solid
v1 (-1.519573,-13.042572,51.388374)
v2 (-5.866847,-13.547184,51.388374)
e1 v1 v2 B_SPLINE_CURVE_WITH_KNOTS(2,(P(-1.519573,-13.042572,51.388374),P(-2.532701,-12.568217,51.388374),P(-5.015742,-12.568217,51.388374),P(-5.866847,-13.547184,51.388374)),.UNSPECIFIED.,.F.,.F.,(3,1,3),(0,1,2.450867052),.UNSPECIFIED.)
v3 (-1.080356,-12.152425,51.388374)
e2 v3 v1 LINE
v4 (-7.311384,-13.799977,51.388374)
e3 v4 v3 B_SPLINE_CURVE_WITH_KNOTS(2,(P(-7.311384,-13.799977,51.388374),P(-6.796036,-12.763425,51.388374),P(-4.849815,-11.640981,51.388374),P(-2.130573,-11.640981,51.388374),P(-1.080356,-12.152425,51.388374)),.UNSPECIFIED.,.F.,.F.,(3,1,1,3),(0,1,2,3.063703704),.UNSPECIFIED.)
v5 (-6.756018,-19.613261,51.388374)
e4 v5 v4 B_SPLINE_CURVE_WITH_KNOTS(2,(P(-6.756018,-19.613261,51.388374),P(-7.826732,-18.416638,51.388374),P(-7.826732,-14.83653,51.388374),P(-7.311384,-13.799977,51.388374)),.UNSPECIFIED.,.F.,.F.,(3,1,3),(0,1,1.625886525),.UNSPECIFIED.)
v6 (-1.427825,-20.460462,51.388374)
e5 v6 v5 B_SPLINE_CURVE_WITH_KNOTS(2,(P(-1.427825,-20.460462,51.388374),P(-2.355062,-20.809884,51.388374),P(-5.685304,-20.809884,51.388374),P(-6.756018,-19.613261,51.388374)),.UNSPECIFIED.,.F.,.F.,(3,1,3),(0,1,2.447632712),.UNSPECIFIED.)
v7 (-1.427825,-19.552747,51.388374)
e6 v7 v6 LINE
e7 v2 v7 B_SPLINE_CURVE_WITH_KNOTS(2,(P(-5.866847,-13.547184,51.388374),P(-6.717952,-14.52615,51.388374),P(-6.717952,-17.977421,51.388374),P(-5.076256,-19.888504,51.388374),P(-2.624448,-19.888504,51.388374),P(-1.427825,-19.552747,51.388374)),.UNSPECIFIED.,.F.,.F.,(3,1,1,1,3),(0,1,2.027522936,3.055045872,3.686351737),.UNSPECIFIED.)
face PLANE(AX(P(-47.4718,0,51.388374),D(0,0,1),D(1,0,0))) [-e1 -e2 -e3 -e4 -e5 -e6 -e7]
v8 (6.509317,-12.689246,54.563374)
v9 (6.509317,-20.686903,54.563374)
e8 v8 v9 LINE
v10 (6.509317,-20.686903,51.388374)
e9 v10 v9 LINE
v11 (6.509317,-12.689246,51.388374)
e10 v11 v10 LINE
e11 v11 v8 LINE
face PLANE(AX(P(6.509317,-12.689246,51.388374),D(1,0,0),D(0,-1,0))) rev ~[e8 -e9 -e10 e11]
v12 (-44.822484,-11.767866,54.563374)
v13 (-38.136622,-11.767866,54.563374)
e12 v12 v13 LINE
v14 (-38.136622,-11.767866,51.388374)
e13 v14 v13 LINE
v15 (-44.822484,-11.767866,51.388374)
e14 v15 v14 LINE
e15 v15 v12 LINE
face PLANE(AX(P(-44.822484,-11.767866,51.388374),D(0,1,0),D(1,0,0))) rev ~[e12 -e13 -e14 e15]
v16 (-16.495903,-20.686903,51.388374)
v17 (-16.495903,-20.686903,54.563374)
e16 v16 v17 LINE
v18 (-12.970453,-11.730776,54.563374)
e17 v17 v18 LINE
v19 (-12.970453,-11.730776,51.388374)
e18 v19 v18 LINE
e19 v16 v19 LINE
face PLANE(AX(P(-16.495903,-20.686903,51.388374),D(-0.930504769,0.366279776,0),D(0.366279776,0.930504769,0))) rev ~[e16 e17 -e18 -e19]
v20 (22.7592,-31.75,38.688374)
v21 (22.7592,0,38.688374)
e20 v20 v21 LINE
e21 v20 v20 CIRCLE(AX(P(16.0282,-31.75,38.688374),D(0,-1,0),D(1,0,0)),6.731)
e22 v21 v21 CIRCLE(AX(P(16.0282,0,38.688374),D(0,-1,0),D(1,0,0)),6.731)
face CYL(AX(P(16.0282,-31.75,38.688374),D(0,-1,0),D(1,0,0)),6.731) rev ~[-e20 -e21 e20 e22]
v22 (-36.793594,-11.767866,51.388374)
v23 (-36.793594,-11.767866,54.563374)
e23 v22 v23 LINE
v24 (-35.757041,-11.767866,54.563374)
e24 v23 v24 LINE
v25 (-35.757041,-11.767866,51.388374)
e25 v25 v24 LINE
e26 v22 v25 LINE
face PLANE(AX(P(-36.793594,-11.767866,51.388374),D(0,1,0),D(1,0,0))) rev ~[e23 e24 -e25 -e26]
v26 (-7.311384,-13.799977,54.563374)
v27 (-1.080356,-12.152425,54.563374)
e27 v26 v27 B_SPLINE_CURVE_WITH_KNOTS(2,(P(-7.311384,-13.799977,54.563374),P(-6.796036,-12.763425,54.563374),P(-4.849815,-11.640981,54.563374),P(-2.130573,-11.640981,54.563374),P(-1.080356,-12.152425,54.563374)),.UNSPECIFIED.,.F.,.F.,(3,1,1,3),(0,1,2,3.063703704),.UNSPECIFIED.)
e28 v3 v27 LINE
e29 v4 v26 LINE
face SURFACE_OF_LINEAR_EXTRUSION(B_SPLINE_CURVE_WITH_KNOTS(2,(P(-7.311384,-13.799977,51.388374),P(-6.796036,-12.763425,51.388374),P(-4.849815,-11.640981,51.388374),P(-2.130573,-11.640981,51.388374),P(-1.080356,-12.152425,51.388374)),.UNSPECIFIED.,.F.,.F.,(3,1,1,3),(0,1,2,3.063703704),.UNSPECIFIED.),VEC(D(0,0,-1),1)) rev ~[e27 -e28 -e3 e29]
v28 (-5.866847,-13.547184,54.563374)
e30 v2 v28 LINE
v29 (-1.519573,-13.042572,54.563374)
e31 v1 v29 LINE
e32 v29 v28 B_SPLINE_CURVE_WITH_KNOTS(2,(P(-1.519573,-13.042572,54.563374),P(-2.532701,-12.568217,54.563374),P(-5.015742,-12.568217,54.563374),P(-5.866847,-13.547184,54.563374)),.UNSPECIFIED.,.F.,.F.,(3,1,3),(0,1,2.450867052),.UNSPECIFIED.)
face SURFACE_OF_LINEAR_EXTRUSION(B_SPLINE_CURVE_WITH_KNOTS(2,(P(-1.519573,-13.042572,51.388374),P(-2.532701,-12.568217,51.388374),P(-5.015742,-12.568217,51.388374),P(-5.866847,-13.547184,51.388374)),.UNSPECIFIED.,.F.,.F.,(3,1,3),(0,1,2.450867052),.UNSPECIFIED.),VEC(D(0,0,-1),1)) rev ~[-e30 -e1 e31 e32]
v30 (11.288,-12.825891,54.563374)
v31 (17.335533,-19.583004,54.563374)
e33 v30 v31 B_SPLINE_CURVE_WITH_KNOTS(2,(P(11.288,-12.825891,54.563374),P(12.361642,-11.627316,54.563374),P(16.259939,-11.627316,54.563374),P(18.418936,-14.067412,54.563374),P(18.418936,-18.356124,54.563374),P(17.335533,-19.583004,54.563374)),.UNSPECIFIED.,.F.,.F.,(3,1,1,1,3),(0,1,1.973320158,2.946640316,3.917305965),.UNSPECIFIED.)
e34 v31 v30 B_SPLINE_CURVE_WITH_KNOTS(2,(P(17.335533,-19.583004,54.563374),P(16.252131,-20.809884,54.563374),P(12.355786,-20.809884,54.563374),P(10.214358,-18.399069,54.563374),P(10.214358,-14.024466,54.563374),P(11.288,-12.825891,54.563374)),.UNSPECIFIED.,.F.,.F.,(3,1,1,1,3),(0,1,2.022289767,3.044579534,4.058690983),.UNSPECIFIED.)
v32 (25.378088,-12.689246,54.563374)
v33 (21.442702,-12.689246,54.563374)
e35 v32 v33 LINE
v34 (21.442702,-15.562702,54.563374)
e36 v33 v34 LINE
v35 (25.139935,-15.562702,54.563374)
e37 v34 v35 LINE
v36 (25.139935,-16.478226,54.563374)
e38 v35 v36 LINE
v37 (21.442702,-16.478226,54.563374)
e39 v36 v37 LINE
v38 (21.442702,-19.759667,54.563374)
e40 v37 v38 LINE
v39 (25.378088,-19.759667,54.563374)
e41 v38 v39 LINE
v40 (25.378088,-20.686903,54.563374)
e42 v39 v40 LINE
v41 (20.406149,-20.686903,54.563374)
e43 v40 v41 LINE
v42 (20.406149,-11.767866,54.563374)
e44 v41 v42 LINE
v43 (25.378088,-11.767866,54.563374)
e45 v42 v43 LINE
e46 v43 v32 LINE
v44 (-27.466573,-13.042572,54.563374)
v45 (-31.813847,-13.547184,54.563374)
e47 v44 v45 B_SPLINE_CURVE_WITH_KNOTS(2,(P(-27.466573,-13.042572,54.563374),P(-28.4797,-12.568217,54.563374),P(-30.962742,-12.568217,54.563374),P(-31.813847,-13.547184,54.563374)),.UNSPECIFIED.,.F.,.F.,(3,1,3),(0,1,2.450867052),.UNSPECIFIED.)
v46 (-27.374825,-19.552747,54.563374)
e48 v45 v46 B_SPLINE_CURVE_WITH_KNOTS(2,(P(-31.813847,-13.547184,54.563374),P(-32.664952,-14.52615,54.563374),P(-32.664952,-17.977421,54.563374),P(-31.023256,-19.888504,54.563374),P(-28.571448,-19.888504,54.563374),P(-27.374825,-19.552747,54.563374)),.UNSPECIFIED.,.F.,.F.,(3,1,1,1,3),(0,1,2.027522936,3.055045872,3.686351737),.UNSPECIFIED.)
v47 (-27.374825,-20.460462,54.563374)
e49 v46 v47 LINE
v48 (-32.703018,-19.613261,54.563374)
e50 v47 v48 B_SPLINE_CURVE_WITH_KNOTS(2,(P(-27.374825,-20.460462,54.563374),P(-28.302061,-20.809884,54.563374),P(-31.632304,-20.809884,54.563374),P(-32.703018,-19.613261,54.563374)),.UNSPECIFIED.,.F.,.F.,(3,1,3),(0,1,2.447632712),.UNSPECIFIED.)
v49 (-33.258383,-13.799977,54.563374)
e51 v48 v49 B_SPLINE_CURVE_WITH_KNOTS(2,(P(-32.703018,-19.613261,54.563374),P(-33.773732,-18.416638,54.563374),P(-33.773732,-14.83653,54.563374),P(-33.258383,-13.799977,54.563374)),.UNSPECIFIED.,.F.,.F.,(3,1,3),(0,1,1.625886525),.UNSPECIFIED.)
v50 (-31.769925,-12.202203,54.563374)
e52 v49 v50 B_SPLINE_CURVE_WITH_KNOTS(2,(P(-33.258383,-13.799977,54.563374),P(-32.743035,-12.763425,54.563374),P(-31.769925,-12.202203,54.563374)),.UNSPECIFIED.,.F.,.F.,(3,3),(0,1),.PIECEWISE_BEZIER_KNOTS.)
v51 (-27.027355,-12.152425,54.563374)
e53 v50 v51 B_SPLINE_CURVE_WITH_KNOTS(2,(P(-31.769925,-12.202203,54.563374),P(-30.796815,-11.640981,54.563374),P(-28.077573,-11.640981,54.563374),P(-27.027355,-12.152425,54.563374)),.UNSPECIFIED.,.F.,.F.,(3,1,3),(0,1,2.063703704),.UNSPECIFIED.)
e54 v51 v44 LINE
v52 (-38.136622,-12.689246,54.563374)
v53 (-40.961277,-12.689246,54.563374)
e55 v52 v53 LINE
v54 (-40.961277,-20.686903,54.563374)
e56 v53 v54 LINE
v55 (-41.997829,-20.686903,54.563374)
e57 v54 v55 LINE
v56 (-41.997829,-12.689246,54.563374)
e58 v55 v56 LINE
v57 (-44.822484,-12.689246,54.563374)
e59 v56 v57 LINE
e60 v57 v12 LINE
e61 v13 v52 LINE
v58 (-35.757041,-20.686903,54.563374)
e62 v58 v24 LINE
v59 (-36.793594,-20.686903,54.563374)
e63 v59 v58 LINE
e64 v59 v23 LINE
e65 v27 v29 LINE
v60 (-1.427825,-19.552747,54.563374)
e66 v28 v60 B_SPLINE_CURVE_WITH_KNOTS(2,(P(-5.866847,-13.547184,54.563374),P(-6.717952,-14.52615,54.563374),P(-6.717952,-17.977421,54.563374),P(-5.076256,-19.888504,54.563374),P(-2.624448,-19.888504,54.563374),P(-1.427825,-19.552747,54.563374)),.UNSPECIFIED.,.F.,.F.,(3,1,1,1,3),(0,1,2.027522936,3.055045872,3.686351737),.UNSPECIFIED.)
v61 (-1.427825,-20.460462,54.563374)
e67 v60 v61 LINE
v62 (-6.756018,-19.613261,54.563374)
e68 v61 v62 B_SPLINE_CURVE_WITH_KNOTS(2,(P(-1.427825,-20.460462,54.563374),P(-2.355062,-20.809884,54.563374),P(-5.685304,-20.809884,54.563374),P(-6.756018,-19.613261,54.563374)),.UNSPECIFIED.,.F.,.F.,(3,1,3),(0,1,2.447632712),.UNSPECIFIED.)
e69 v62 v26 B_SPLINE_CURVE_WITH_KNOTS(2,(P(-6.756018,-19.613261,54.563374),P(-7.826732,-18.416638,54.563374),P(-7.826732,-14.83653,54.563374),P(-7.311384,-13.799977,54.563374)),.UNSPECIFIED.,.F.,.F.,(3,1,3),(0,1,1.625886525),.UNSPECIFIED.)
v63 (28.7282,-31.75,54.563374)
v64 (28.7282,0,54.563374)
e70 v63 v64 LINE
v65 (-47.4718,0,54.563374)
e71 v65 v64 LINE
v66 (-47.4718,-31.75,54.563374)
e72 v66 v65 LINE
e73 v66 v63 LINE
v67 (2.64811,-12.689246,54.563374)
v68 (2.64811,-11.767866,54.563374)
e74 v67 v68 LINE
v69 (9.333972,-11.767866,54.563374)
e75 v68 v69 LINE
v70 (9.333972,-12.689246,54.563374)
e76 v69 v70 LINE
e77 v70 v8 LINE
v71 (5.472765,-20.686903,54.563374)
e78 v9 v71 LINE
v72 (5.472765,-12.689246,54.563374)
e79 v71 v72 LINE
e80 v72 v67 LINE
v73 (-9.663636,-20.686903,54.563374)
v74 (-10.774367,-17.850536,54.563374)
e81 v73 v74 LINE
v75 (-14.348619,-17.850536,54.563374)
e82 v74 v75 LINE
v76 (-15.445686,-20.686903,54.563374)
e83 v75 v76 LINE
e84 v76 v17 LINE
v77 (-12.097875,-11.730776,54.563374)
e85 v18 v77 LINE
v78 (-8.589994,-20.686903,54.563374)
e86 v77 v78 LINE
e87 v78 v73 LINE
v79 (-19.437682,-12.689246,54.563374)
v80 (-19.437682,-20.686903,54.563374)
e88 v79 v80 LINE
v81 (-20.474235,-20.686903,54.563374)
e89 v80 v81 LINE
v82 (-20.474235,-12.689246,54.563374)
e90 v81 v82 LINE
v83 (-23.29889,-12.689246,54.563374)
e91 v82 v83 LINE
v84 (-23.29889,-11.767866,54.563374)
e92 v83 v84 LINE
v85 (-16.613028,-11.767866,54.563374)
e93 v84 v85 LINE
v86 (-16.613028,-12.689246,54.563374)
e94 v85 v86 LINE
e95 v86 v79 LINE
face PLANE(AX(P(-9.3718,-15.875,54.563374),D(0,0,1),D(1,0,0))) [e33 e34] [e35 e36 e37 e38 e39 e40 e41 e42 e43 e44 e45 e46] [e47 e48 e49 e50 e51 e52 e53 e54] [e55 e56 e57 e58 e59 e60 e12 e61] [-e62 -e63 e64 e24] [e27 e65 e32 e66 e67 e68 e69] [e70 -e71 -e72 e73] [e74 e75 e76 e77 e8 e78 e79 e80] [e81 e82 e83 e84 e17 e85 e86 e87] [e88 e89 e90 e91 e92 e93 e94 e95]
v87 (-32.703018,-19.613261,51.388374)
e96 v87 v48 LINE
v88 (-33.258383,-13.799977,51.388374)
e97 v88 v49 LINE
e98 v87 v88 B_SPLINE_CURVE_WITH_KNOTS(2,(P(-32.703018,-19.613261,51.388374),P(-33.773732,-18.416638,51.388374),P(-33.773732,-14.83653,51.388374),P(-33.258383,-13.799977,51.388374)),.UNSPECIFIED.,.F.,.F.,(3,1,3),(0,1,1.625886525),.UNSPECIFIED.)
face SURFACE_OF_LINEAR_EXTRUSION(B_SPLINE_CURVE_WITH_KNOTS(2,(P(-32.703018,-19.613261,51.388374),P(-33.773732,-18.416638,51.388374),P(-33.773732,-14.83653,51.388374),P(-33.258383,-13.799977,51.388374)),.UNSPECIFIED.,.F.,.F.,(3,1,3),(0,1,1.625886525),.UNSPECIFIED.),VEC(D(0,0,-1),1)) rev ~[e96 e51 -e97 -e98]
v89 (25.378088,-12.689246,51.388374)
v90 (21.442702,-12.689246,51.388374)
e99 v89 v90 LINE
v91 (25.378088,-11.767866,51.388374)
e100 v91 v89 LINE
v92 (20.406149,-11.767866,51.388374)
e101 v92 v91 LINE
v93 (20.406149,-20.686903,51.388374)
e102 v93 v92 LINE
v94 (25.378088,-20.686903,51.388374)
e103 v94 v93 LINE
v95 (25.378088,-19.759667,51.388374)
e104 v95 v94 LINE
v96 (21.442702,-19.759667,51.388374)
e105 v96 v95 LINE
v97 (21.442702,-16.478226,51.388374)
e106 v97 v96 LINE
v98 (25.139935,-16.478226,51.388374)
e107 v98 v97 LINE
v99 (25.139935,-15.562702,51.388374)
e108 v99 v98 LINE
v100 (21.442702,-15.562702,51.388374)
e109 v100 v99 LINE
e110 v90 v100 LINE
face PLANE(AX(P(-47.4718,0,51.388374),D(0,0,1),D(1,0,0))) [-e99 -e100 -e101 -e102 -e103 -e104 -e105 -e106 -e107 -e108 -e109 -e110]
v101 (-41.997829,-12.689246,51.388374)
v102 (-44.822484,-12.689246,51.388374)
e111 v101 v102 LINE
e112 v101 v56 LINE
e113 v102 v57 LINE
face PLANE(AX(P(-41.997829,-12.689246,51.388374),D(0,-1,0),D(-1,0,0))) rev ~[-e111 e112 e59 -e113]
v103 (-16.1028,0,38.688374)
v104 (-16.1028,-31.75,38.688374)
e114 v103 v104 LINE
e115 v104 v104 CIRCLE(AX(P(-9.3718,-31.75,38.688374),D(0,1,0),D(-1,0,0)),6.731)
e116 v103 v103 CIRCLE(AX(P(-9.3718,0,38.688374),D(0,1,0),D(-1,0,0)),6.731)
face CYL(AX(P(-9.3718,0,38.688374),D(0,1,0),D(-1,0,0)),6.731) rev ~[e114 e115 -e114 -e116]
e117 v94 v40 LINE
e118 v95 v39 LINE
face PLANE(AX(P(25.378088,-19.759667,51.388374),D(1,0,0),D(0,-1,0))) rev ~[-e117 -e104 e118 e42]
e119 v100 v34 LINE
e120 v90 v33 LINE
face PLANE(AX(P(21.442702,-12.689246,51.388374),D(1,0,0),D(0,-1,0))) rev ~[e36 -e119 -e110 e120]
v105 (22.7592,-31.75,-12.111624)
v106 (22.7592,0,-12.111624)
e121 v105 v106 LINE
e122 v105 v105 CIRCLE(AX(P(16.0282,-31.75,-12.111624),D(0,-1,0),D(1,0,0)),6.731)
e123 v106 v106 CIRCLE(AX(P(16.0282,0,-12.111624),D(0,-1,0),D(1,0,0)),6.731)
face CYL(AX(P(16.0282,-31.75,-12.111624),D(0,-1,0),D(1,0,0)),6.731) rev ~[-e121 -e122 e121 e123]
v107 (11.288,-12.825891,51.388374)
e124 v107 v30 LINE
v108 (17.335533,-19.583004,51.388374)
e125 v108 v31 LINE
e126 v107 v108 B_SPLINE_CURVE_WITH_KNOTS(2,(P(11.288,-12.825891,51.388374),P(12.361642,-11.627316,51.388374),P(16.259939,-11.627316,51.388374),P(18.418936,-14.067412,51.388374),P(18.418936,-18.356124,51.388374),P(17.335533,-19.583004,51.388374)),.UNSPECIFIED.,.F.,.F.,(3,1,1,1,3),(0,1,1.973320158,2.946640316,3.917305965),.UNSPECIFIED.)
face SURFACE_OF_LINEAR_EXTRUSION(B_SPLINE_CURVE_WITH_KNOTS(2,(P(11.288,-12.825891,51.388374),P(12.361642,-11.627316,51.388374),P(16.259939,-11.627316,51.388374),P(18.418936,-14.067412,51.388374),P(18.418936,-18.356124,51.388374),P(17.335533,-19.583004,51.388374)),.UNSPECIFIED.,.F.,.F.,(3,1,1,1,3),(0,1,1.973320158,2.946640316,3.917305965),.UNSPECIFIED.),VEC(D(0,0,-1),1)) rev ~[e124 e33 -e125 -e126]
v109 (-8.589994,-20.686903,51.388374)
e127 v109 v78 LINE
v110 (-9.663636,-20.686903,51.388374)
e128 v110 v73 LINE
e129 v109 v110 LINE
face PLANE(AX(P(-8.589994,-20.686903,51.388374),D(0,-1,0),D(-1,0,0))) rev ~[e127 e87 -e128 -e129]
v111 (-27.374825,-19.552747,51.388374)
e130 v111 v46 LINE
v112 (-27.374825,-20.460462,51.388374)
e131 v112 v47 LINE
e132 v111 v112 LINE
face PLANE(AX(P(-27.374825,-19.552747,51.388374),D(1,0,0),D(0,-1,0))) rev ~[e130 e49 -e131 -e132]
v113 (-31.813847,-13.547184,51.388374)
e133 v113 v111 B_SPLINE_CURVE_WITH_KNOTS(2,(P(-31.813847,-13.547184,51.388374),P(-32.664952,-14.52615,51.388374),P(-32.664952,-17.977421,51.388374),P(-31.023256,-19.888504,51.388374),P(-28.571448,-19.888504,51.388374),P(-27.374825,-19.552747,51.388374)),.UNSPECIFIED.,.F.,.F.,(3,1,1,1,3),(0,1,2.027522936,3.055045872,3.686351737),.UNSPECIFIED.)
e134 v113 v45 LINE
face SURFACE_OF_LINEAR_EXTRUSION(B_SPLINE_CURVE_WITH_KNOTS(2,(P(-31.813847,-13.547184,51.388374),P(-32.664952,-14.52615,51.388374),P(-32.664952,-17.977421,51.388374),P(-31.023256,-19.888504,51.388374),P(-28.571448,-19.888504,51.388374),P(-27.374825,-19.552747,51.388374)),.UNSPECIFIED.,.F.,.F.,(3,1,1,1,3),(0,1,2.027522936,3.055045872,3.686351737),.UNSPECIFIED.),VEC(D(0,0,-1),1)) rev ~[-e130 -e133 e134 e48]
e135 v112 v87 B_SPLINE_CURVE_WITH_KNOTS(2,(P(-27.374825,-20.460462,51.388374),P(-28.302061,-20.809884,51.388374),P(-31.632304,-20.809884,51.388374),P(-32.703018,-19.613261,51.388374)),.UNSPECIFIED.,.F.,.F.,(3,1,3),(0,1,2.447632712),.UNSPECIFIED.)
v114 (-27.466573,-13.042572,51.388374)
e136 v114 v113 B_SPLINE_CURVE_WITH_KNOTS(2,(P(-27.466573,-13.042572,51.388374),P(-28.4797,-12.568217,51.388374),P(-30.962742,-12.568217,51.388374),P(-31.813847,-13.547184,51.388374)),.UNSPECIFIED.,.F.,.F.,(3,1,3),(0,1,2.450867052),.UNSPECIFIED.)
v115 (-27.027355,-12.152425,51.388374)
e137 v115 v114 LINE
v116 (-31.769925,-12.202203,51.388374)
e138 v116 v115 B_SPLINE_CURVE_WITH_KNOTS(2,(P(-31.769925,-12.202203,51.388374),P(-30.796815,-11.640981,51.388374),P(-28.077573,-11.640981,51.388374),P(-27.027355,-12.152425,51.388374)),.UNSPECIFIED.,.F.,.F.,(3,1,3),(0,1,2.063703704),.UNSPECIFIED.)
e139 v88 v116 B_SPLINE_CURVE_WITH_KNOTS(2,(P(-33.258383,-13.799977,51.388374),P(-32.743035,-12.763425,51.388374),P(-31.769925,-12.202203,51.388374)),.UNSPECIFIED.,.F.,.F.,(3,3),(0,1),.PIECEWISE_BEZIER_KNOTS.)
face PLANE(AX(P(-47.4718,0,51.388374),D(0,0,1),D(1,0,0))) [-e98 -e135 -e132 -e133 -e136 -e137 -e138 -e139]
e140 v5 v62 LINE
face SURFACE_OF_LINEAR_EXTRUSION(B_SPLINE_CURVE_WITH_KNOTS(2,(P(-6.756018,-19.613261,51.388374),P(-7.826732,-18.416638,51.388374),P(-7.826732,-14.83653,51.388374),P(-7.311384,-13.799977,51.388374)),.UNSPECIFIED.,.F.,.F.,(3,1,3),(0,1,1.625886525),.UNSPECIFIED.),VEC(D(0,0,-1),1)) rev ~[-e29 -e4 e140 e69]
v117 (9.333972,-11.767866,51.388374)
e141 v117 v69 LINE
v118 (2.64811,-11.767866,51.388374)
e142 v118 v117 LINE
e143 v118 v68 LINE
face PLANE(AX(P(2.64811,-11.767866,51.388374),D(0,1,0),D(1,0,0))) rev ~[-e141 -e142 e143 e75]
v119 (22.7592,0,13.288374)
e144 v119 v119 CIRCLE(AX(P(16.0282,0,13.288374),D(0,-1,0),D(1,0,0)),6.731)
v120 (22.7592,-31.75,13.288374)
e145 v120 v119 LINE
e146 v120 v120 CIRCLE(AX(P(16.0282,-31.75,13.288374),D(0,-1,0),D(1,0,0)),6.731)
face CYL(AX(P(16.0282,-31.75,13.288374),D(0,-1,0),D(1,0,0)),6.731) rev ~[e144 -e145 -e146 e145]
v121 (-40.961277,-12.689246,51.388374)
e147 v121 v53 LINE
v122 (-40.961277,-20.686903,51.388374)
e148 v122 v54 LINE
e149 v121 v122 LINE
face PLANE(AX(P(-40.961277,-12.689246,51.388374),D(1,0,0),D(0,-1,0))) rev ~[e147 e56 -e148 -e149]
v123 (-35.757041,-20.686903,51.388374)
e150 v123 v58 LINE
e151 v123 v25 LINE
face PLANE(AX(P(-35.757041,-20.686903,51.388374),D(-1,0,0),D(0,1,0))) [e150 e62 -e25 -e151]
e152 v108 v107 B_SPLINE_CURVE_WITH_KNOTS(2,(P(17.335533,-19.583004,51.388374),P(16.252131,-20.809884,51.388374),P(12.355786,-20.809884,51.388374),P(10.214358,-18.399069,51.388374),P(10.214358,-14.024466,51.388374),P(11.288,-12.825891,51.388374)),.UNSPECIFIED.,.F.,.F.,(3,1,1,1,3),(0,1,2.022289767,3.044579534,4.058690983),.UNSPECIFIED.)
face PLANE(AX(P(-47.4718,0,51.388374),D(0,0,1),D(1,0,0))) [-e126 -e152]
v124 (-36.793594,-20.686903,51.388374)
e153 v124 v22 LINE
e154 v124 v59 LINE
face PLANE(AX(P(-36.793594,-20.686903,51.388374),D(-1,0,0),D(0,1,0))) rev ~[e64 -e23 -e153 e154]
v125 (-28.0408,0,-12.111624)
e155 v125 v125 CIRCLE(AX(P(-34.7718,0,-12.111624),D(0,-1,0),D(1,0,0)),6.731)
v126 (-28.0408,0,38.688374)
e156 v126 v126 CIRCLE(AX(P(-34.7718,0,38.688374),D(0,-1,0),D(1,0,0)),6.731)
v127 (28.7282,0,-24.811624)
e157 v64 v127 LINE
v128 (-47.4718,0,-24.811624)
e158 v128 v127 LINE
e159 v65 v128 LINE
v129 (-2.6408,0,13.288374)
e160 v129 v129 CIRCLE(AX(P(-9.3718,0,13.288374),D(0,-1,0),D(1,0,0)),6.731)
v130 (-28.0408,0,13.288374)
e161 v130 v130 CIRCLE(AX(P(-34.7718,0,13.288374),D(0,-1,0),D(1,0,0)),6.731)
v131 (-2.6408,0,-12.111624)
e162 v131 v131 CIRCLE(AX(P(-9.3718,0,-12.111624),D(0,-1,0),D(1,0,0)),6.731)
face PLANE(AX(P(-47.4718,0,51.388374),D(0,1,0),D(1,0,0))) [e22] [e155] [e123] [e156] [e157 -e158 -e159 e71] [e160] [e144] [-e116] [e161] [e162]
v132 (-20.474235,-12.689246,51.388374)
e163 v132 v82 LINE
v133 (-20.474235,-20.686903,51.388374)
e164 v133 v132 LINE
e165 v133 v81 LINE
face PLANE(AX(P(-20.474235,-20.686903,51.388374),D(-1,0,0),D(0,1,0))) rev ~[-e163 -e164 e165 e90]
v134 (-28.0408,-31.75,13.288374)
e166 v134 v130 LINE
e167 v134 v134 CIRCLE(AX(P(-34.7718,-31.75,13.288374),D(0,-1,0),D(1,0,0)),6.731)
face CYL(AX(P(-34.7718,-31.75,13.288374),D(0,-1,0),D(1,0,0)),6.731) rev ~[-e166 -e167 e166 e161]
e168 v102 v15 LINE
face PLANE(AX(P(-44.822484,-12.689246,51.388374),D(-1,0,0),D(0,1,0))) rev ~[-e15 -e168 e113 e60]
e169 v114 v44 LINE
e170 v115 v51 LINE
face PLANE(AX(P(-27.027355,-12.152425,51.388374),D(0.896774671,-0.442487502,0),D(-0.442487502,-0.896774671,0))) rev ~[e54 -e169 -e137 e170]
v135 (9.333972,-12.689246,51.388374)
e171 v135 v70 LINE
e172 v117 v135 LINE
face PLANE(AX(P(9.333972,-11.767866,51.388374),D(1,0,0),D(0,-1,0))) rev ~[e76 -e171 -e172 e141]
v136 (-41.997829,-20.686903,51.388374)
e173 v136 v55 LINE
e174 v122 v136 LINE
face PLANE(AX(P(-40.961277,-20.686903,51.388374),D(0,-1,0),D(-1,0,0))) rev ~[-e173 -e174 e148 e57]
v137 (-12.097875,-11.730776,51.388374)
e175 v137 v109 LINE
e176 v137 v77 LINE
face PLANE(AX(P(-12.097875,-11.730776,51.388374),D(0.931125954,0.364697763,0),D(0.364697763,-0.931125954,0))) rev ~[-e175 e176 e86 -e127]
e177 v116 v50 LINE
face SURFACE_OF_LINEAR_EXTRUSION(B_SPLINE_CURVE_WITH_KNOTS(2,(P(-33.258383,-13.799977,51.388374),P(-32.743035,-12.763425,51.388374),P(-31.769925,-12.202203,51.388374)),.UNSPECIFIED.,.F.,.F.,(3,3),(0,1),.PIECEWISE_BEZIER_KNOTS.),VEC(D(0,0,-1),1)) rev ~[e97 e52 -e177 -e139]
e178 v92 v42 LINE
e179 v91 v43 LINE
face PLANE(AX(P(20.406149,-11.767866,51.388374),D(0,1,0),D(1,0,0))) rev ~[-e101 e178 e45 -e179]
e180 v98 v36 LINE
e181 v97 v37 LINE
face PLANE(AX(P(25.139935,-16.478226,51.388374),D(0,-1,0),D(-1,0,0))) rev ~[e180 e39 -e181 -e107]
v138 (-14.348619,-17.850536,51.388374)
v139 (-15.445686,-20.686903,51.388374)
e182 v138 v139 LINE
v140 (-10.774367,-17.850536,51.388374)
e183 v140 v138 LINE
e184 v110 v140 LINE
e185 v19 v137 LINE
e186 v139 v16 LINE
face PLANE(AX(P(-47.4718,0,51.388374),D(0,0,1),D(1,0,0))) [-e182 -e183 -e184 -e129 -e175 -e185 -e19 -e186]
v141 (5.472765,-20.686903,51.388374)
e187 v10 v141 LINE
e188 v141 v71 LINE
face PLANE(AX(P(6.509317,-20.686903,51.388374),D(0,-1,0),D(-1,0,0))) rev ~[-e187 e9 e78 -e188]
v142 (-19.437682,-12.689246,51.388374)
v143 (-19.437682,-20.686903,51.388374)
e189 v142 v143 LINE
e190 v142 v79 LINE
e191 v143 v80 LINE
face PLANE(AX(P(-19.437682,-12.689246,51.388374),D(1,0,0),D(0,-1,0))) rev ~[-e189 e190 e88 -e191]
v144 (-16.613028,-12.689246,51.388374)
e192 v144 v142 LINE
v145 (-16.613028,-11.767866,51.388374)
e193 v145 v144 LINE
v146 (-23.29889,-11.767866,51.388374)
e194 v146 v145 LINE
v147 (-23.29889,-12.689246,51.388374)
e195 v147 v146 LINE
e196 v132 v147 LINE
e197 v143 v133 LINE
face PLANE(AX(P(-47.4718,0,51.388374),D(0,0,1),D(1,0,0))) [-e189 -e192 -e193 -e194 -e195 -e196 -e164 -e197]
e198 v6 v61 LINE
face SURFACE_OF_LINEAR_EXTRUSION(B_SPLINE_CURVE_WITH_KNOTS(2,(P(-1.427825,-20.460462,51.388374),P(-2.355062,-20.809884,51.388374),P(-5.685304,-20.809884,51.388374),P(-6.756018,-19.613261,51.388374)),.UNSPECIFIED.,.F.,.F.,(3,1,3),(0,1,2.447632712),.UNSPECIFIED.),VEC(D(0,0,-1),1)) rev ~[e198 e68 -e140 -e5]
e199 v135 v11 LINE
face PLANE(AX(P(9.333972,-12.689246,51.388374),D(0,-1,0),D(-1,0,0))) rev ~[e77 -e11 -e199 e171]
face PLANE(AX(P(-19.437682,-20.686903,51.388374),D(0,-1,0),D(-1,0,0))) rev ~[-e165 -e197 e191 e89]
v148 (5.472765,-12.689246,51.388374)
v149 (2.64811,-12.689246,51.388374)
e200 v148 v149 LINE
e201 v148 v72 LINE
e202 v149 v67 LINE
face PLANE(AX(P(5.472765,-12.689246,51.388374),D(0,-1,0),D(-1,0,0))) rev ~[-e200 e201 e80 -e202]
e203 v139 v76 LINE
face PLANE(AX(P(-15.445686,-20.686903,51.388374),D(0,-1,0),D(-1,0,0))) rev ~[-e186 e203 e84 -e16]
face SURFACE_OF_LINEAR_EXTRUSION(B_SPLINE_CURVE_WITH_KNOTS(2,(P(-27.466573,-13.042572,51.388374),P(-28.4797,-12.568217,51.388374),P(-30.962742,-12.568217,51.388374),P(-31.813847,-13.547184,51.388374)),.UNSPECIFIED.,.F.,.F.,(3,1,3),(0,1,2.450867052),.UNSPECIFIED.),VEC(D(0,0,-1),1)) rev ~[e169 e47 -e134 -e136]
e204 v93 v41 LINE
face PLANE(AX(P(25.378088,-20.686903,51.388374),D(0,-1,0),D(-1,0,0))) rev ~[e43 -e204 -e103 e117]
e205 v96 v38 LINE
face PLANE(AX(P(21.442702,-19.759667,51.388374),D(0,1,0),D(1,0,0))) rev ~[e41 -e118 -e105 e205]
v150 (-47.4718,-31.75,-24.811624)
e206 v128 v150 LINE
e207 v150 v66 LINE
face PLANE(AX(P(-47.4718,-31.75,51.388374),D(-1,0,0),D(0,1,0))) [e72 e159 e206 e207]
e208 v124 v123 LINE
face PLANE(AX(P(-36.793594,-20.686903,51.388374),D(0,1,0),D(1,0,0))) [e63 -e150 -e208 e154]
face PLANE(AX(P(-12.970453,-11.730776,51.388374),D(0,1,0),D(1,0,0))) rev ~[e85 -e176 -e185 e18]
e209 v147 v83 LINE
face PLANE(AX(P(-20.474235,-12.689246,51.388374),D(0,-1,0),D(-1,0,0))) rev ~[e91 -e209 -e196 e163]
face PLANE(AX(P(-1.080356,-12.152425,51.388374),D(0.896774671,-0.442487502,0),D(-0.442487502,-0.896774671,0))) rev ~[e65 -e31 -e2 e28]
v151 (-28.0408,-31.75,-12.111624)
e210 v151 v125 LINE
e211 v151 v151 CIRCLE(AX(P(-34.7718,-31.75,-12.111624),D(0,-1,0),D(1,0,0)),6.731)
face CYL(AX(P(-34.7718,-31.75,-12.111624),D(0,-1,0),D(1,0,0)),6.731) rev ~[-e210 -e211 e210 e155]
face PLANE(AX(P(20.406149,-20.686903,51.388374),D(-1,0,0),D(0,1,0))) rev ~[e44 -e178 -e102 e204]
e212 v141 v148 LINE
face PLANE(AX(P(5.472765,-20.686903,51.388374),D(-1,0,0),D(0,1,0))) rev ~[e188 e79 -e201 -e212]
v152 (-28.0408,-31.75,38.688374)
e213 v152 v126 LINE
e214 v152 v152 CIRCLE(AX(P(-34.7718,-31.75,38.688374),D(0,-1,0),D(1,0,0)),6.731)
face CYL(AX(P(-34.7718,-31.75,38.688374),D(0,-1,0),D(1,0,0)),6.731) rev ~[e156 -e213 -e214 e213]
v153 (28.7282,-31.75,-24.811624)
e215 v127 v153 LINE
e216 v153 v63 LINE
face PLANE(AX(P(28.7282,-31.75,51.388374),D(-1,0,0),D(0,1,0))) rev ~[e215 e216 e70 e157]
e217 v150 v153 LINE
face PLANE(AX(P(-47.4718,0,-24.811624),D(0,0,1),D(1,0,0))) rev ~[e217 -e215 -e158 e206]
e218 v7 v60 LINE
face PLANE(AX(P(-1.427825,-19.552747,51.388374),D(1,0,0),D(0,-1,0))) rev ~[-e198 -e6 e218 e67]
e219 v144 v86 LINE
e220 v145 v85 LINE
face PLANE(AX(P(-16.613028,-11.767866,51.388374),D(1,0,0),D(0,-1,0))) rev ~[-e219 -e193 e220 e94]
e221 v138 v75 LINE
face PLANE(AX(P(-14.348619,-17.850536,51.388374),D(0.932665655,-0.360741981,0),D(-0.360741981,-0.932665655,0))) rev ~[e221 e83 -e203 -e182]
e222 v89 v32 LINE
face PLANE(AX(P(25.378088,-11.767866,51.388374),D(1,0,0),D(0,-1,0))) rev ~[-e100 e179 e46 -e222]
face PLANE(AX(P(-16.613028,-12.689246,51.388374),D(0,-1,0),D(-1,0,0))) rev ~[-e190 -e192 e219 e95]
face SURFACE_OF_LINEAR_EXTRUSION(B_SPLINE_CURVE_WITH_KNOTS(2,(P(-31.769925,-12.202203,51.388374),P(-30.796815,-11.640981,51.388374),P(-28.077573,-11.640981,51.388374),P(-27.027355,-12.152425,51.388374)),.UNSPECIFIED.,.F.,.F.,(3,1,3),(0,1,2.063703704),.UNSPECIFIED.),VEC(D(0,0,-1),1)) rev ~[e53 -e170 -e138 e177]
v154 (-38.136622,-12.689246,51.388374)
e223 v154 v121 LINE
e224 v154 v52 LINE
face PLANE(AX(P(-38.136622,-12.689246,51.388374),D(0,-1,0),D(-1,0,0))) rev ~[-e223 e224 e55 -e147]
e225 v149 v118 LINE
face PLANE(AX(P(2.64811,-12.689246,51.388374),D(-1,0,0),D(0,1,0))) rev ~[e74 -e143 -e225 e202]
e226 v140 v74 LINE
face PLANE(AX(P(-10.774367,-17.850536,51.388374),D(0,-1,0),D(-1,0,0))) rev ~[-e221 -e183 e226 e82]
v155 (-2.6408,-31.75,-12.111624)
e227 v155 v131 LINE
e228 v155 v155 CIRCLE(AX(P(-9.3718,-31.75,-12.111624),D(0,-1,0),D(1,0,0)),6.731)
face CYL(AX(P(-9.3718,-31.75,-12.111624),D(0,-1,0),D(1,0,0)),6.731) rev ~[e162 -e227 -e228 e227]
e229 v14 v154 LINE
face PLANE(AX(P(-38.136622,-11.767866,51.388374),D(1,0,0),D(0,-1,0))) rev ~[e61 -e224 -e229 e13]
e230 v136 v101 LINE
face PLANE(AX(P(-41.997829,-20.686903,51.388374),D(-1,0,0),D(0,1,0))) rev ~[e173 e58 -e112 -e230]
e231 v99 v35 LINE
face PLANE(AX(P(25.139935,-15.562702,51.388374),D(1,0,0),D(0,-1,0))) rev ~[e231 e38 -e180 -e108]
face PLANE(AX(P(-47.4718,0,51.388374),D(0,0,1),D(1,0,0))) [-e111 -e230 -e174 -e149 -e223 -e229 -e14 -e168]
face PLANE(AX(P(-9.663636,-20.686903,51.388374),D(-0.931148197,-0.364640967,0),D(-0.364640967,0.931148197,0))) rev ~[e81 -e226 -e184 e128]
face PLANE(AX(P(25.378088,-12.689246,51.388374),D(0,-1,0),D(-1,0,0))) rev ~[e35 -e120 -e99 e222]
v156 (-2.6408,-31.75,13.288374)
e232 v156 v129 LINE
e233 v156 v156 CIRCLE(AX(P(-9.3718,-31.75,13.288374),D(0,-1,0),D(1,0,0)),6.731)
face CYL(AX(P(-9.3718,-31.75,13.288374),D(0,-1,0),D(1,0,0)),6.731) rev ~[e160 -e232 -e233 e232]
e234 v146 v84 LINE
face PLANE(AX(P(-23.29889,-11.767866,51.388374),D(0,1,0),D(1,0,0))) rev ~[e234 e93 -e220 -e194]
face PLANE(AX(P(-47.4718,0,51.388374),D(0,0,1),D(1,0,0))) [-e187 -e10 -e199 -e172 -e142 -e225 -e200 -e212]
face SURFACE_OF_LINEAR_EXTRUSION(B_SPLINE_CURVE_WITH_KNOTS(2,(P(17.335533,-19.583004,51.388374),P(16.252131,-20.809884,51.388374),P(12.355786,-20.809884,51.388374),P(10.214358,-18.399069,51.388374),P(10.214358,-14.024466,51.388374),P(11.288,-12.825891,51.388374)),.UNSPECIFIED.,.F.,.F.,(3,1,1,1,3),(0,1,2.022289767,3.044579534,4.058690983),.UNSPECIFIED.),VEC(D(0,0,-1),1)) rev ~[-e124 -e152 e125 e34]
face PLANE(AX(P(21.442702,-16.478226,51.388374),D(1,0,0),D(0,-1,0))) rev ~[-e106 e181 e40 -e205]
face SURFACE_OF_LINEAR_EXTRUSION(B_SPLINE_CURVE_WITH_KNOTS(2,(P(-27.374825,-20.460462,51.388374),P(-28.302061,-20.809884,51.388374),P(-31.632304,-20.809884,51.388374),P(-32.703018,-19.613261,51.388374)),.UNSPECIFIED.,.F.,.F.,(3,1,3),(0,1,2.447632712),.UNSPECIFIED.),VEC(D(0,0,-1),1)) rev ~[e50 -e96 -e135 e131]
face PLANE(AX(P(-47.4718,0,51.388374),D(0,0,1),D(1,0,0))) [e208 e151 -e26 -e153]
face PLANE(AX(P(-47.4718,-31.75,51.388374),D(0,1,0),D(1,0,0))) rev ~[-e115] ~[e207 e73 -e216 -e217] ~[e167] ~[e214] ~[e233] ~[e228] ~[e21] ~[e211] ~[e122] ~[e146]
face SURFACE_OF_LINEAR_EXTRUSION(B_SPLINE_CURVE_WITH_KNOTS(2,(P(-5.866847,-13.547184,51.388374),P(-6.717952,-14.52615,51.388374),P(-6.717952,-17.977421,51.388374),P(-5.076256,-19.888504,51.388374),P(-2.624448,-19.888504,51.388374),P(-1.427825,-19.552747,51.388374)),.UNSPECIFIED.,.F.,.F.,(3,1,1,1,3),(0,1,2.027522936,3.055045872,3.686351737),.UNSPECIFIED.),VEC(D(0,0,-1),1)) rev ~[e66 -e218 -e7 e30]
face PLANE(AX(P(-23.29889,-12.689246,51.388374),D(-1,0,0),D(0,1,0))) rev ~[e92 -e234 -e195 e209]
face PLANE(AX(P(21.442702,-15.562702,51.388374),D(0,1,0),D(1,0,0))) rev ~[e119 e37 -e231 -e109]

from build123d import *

# Parameters (mm, degrees)
F0_W      = 76.2
F0_H      = 76.1999971091
F1_DEPTH  = 31.75
F2_R      = 6.731
F3_DEPTH  = 50.8
F5_R      = 6.731
F6_DEPTH  = 31.75
F7_DEPTH  = 31.751
F8_R      = 6.731
F9_DEPTH  = 31.751
F10_R     = 6.731
F11_DEPTH = 31.751
F12_R     = 6.731
F13_DEPTH = 31.751
F14_R     = 6.731
F15_DEPTH = 31.751
F16_R     = 6.731
F17_DEPTH = 31.751
F18_R     = 6.731
F19_DEPTH = 31.751
F20_W     = 76.2
F20_H     = 31.75
F20_W_2   = 1.036552576
F20_H_2   = 8.9190371367
F21_DEPTH = 3.175


with BuildPart() as f1:
    # F0 (on Front) → F1 (new body)
    with BuildSketch(Plane.XZ):
        with Locations((-9.3718003482, 13.2883749902)):
            Rectangle(F0_W, F0_H)
    extrude(amount=F1_DEPTH)

    # F2 (on face) → F3 (cut)
    with BuildSketch(Plane.XZ.offset(31.75)):
        with Locations((-9.3718003482, 13.2883735448)):
            Circle(F2_R)
    extrude(amount=-F3_DEPTH, mode=Mode.SUBTRACT)

    # F5 (on face) → F6 (cut)
    with BuildSketch(Plane.XZ.offset(31.75)):
        with Locations((16.0281996518, 38.6883735448)):
            Circle(F5_R)
    extrude(amount=-F6_DEPTH, mode=Mode.SUBTRACT)

    # F5 (on face) → F7 (cut, through all)
    with BuildSketch(Plane.XZ.offset(31.75)):
        with Locations((16.0281996518, 13.2883735448)):
            Circle(F5_R)
    extrude(amount=-F7_DEPTH, mode=Mode.SUBTRACT)

    # F8 (on face) → F9 (cut, through all)
    with BuildSketch(Plane(origin=(0, 0, 0), x_dir=(-1, 0, 0), z_dir=(0, 1, 0))):
        with Locations((9.3718003482, 38.6883735448)):
            Circle(F8_R)
    extrude(amount=-F9_DEPTH, mode=Mode.SUBTRACT)

    # F10 (on face) → F11 (cut, through all)
    with BuildSketch(Plane.XZ.offset(31.75)):
        with Locations((-34.7718003482, 38.6883735448)):
            Circle(F10_R)
    extrude(amount=-F11_DEPTH, mode=Mode.SUBTRACT)

    # F12 (on face) → F13 (cut, through all)
    with BuildSketch(Plane.XZ.offset(31.75)):
        with Locations((-34.7718003482, 13.2883735448)):
            Circle(F12_R)
    extrude(amount=-F13_DEPTH, mode=Mode.SUBTRACT)

    # F14 (on face) → F15 (cut, through all)
    with BuildSketch(Plane.XZ.offset(31.75)):
        with Locations((-34.7718003482, -12.1116235643)):
            Circle(F14_R)
    extrude(amount=-F15_DEPTH, mode=Mode.SUBTRACT)

    # F16 (on face) → F17 (cut, through all)
    with BuildSketch(Plane.XZ.offset(31.75)):
        with Locations((-9.3718003482, -12.1116235643)):
            Circle(F16_R)
    extrude(amount=-F17_DEPTH, mode=Mode.SUBTRACT)

    # F18 (on face) → F19 (cut, through all)
    with BuildSketch(Plane.XZ.offset(31.75)):
        with Locations((16.0281996518, -12.1116235643)):
            Circle(F18_R)
    extrude(amount=-F19_DEPTH, mode=Mode.SUBTRACT)

    # F20 (on face) → F21 (join)
    with BuildSketch(Plane.XY.offset(51.3883735448)):
        with Locations((-9.3718003482, -15.875)):
            Rectangle(F20_W, F20_H)
        Polygon((-40.9612769216, -12.6892459309), (-40.9612769216, -20.686903), (-41.9978294976, -20.686903), (-41.9978294976, -12.6892459309), (-44.822484069, -12.6892459309), (-44.822484069, -11.7678658633), (-38.1366223502, -11.7678658633), (-38.1366223502, -12.6892459309), align=None, mode=Mode.SUBTRACT)
        with Locations((-36.2753174892, -16.2273844317)):
            Rectangle(F20_W_2, F20_H_2, mode=Mode.SUBTRACT)
        with BuildLine():
            add(Edge.make_bspline(
                [(-27.46657267, -13.0425717618), (-28.4797003289, -12.5682171932), (-29.4928279879, -12.5682171932)],
                knots=[0, 0, 0, 1, 1, 1], degree=2))
            add(Edge.make_bspline(
                [(-29.4928279879, -12.5682171932), (-30.9627415279, -12.5682171932), (-31.8138468445, -13.5471835149)],
                knots=[0, 0, 0, 1, 1, 1], degree=2))
            add(Edge.make_bspline(
                [(-31.8138468445, -13.5471835149), (-32.6649521611, -14.5261498367), (-32.6649521611, -16.2283604699)],
                knots=[0, 0, 0, 1, 1, 1], degree=2))
            add(Edge.make_bspline(
                [(-32.6649521611, -16.2283604699), (-32.6649521611, -17.977420937), (-31.8441040289, -18.9329623418)],
                knots=[0, 0, 0, 1, 1, 1], degree=2))
            add(Edge.make_bspline(
                [(-31.8441040289, -18.9329623418), (-31.0232558967, -19.8885037466), (-29.5045404464, -19.8885037466)],
                knots=[0, 0, 0, 1, 1, 1], degree=2))
            add(Edge.make_bspline(
                [(-29.5045404464, -19.8885037466), (-28.5714479204, -19.8885037466), (-27.3748250785, -19.5527466033)],
                knots=[0, 0, 0, 1, 1, 1], degree=2))
            Line((-27.3748250785, -19.5527466033), (-27.3748250785, -20.4604621359))
            add(Edge.make_bspline(
                [(-27.3748250785, -20.4604621359), (-28.3020613753, -20.8098838141), (-29.662658636, -20.8098838141)],
                knots=[0, 0, 0, 1, 1, 1], degree=2))
            add(Edge.make_bspline(
                [(-29.662658636, -20.8098838141), (-31.6323037379, -20.8098838141), (-32.7030176512, -19.6132609722)],
                knots=[0, 0, 0, 1, 1, 1], degree=2))
            add(Edge.make_bspline(
                [(-32.7030176512, -19.6132609722), (-33.7737315644, -18.4166381302), (-33.7737315644, -16.214695935)],
                knots=[0, 0, 0, 1, 1, 1], degree=2))
            add(Edge.make_bspline(
                [(-33.7737315644, -16.214695935), (-33.7737315644, -14.8365299865), (-33.258383391, -13.7999774106)],
                knots=[0, 0, 0, 1, 1, 1], degree=2))
            add(Edge.make_bspline(
                [(-33.258383391, -13.7999774106), (-32.7430352176, -12.7634248346), (-31.7699251252, -12.2022028655)],
                knots=[0, 0, 0, 1, 1, 1], degree=2))
            add(Edge.make_bspline(
                [(-31.7699251252, -12.2022028655), (-30.7968150327, -11.6409808964), (-29.479163453, -11.6409808964)],
                knots=[0, 0, 0, 1, 1, 1], degree=2))
            add(Edge.make_bspline(
                [(-29.479163453, -11.6409808964), (-28.0775725876, -11.6409808964), (-27.0273554768, -12.1524249169)],
                knots=[0, 0, 0, 1, 1, 1], degree=2))
            Line((-27.0273554768, -12.1524249169), (-27.46657267, -13.0425717618))
        make_face(mode=Mode.SUBTRACT)
        Polygon((-19.4376823782, -12.6892459309), (-19.4376823782, -20.686903), (-20.4742349542, -20.686903), (-20.4742349542, -12.6892459309), (-23.2988895256, -12.6892459309), (-23.2988895256, -11.7678658633), (-16.6130278068, -11.7678658633), (-16.6130278068, -12.6892459309), align=None, mode=Mode.SUBTRACT)
        Polygon((-8.5899937443, -20.686903), (-9.6636357721, -20.686903), (-10.7743672518, -17.8505359701), (-14.3486191663, -17.8505359701), (-15.4456861111, -20.686903), (-16.4959032219, -20.686903), (-12.9704532178, -11.7307764115), (-12.0978750606, -11.7307764115), align=None, mode=Mode.SUBTRACT)
        with BuildLine():
            add(Edge.make_bspline(
                [(-1.5195729719, -13.0425717618), (-2.5327006309, -12.5682171932), (-3.5458282899, -12.5682171932)],
                knots=[0, 0, 0, 1, 1, 1], degree=2))
            add(Edge.make_bspline(
                [(-3.5458282899, -12.5682171932), (-5.0157418298, -12.5682171932), (-5.8668471464, -13.5471835149)],
                knots=[0, 0, 0, 1, 1, 1], degree=2))
            add(Edge.make_bspline(
                [(-5.8668471464, -13.5471835149), (-6.717952463, -14.5261498367), (-6.717952463, -16.2283604699)],
                knots=[0, 0, 0, 1, 1, 1], degree=2))
            add(Edge.make_bspline(
                [(-6.717952463, -16.2283604699), (-6.717952463, -17.977420937), (-5.8971043308, -18.9329623418)],
                knots=[0, 0, 0, 1, 1, 1], degree=2))
            add(Edge.make_bspline(
                [(-5.8971043308, -18.9329623418), (-5.0762561986, -19.8885037466), (-3.5575407483, -19.8885037466)],
                knots=[0, 0, 0, 1, 1, 1], degree=2))
            add(Edge.make_bspline(
                [(-3.5575407483, -19.8885037466), (-2.6244482223, -19.8885037466), (-1.4278253804, -19.5527466033)],
                knots=[0, 0, 0, 1, 1, 1], degree=2))
            Line((-1.4278253804, -19.5527466033), (-1.4278253804, -20.4604621359))
            add(Edge.make_bspline(
                [(-1.4278253804, -20.4604621359), (-2.3550616772, -20.8098838141), (-3.7156589379, -20.8098838141)],
                knots=[0, 0, 0, 1, 1, 1], degree=2))
            add(Edge.make_bspline(
                [(-3.7156589379, -20.8098838141), (-5.6853040399, -20.8098838141), (-6.7560179531, -19.6132609722)],
                knots=[0, 0, 0, 1, 1, 1], degree=2))
            add(Edge.make_bspline(
                [(-6.7560179531, -19.6132609722), (-7.8267318663, -18.4166381302), (-7.8267318663, -16.214695935)],
                knots=[0, 0, 0, 1, 1, 1], degree=2))
            add(Edge.make_bspline(
                [(-7.8267318663, -16.214695935), (-7.8267318663, -14.8365299865), (-7.3113836929, -13.7999774106)],
                knots=[0, 0, 0, 1, 1, 1], degree=2))
            add(Edge.make_bspline(
                [(-7.3113836929, -13.7999774106), (-6.7960355196, -12.7634248346), (-5.8229254271, -12.2022028655)],
                knots=[0, 0, 0, 1, 1, 1], degree=2))
            add(Edge.make_bspline(
                [(-5.8229254271, -12.2022028655), (-4.8498153346, -11.6409808964), (-3.532163755, -11.6409808964)],
                knots=[0, 0, 0, 1, 1, 1], degree=2))
            add(Edge.make_bspline(
                [(-3.532163755, -11.6409808964), (-2.1305728895, -11.6409808964), (-1.0803557787, -12.1524249169)],
                knots=[0, 0, 0, 1, 1, 1], degree=2))
            Line((-1.0803557787, -12.1524249169), (-1.5195729719, -13.0425717618))
        make_face(mode=Mode.SUBTRACT)
        Polygon((6.5093173199, -12.6892459309), (6.5093173199, -20.686903), (5.4727647439, -20.686903), (5.4727647439, -12.6892459309), (2.6481101725, -12.6892459309), (2.6481101725, -11.7678658633), (9.3339718913, -11.7678658633), (9.3339718913, -12.6892459309), align=None, mode=Mode.SUBTRACT)
        with BuildLine():
            add(Edge.make_bspline(
                [(17.3394372661, -12.8473641204), (18.4189355232, -14.0674118793), (18.4189355232, -16.214695935)],
                knots=[0, 0, 0, 1, 1, 1], degree=2))
            add(Edge.make_bspline(
                [(18.4189355232, -16.214695935), (18.4189355232, -18.3561237614), (17.3355331133, -19.5830037877)],
                knots=[0, 0, 0, 1, 1, 1], degree=2))
            add(Edge.make_bspline(
                [(17.3355331133, -19.5830037877), (16.2521307034, -20.8098838141), (14.3254312825, -20.8098838141)],
                knots=[0, 0, 0, 1, 1, 1], degree=2))
            add(Edge.make_bspline(
                [(14.3254312825, -20.8098838141), (12.3557861805, -20.8098838141), (11.2850722673, -19.6044766283)],
                knots=[0, 0, 0, 1, 1, 1], degree=2))
            add(Edge.make_bspline(
                [(11.2850722673, -19.6044766283), (10.2143583541, -18.3990694425), (10.2143583541, -16.2029834765)],
                knots=[0, 0, 0, 1, 1, 1], degree=2))
            add(Edge.make_bspline(
                [(10.2143583541, -16.2029834765), (10.2143583541, -14.0244661982), (11.2880003819, -12.8258912799)],
                knots=[0, 0, 0, 1, 1, 1], degree=2))
            add(Edge.make_bspline(
                [(11.2880003819, -12.8258912799), (12.3616424098, -11.6273163615), (14.337143741, -11.6273163615)],
                knots=[0, 0, 0, 1, 1, 1], degree=2))
            add(Edge.make_bspline(
                [(14.337143741, -11.6273163615), (16.259939009, -11.6273163615), (17.3394372661, -12.8473641204)],
                knots=[0, 0, 0, 1, 1, 1], degree=2))
        make_face(mode=Mode.SUBTRACT)
        Polygon((25.3780879399, -19.7596667032), (25.3780879399, -20.686903), (20.4061493129, -20.686903), (20.4061493129, -11.7678658633), (25.3780879399, -11.7678658633), (25.3780879399, -12.6892459309), (21.4427018888, -12.6892459309), (21.4427018888, -15.5627024126), (25.1399346174, -15.5627024126), (25.1399346174, -16.4782262509), (21.4427018888, -16.4782262509), (21.4427018888, -19.7596667032), align=None, mode=Mode.SUBTRACT)
    extrude(amount=F21_DEPTH)


solid = f1.part
